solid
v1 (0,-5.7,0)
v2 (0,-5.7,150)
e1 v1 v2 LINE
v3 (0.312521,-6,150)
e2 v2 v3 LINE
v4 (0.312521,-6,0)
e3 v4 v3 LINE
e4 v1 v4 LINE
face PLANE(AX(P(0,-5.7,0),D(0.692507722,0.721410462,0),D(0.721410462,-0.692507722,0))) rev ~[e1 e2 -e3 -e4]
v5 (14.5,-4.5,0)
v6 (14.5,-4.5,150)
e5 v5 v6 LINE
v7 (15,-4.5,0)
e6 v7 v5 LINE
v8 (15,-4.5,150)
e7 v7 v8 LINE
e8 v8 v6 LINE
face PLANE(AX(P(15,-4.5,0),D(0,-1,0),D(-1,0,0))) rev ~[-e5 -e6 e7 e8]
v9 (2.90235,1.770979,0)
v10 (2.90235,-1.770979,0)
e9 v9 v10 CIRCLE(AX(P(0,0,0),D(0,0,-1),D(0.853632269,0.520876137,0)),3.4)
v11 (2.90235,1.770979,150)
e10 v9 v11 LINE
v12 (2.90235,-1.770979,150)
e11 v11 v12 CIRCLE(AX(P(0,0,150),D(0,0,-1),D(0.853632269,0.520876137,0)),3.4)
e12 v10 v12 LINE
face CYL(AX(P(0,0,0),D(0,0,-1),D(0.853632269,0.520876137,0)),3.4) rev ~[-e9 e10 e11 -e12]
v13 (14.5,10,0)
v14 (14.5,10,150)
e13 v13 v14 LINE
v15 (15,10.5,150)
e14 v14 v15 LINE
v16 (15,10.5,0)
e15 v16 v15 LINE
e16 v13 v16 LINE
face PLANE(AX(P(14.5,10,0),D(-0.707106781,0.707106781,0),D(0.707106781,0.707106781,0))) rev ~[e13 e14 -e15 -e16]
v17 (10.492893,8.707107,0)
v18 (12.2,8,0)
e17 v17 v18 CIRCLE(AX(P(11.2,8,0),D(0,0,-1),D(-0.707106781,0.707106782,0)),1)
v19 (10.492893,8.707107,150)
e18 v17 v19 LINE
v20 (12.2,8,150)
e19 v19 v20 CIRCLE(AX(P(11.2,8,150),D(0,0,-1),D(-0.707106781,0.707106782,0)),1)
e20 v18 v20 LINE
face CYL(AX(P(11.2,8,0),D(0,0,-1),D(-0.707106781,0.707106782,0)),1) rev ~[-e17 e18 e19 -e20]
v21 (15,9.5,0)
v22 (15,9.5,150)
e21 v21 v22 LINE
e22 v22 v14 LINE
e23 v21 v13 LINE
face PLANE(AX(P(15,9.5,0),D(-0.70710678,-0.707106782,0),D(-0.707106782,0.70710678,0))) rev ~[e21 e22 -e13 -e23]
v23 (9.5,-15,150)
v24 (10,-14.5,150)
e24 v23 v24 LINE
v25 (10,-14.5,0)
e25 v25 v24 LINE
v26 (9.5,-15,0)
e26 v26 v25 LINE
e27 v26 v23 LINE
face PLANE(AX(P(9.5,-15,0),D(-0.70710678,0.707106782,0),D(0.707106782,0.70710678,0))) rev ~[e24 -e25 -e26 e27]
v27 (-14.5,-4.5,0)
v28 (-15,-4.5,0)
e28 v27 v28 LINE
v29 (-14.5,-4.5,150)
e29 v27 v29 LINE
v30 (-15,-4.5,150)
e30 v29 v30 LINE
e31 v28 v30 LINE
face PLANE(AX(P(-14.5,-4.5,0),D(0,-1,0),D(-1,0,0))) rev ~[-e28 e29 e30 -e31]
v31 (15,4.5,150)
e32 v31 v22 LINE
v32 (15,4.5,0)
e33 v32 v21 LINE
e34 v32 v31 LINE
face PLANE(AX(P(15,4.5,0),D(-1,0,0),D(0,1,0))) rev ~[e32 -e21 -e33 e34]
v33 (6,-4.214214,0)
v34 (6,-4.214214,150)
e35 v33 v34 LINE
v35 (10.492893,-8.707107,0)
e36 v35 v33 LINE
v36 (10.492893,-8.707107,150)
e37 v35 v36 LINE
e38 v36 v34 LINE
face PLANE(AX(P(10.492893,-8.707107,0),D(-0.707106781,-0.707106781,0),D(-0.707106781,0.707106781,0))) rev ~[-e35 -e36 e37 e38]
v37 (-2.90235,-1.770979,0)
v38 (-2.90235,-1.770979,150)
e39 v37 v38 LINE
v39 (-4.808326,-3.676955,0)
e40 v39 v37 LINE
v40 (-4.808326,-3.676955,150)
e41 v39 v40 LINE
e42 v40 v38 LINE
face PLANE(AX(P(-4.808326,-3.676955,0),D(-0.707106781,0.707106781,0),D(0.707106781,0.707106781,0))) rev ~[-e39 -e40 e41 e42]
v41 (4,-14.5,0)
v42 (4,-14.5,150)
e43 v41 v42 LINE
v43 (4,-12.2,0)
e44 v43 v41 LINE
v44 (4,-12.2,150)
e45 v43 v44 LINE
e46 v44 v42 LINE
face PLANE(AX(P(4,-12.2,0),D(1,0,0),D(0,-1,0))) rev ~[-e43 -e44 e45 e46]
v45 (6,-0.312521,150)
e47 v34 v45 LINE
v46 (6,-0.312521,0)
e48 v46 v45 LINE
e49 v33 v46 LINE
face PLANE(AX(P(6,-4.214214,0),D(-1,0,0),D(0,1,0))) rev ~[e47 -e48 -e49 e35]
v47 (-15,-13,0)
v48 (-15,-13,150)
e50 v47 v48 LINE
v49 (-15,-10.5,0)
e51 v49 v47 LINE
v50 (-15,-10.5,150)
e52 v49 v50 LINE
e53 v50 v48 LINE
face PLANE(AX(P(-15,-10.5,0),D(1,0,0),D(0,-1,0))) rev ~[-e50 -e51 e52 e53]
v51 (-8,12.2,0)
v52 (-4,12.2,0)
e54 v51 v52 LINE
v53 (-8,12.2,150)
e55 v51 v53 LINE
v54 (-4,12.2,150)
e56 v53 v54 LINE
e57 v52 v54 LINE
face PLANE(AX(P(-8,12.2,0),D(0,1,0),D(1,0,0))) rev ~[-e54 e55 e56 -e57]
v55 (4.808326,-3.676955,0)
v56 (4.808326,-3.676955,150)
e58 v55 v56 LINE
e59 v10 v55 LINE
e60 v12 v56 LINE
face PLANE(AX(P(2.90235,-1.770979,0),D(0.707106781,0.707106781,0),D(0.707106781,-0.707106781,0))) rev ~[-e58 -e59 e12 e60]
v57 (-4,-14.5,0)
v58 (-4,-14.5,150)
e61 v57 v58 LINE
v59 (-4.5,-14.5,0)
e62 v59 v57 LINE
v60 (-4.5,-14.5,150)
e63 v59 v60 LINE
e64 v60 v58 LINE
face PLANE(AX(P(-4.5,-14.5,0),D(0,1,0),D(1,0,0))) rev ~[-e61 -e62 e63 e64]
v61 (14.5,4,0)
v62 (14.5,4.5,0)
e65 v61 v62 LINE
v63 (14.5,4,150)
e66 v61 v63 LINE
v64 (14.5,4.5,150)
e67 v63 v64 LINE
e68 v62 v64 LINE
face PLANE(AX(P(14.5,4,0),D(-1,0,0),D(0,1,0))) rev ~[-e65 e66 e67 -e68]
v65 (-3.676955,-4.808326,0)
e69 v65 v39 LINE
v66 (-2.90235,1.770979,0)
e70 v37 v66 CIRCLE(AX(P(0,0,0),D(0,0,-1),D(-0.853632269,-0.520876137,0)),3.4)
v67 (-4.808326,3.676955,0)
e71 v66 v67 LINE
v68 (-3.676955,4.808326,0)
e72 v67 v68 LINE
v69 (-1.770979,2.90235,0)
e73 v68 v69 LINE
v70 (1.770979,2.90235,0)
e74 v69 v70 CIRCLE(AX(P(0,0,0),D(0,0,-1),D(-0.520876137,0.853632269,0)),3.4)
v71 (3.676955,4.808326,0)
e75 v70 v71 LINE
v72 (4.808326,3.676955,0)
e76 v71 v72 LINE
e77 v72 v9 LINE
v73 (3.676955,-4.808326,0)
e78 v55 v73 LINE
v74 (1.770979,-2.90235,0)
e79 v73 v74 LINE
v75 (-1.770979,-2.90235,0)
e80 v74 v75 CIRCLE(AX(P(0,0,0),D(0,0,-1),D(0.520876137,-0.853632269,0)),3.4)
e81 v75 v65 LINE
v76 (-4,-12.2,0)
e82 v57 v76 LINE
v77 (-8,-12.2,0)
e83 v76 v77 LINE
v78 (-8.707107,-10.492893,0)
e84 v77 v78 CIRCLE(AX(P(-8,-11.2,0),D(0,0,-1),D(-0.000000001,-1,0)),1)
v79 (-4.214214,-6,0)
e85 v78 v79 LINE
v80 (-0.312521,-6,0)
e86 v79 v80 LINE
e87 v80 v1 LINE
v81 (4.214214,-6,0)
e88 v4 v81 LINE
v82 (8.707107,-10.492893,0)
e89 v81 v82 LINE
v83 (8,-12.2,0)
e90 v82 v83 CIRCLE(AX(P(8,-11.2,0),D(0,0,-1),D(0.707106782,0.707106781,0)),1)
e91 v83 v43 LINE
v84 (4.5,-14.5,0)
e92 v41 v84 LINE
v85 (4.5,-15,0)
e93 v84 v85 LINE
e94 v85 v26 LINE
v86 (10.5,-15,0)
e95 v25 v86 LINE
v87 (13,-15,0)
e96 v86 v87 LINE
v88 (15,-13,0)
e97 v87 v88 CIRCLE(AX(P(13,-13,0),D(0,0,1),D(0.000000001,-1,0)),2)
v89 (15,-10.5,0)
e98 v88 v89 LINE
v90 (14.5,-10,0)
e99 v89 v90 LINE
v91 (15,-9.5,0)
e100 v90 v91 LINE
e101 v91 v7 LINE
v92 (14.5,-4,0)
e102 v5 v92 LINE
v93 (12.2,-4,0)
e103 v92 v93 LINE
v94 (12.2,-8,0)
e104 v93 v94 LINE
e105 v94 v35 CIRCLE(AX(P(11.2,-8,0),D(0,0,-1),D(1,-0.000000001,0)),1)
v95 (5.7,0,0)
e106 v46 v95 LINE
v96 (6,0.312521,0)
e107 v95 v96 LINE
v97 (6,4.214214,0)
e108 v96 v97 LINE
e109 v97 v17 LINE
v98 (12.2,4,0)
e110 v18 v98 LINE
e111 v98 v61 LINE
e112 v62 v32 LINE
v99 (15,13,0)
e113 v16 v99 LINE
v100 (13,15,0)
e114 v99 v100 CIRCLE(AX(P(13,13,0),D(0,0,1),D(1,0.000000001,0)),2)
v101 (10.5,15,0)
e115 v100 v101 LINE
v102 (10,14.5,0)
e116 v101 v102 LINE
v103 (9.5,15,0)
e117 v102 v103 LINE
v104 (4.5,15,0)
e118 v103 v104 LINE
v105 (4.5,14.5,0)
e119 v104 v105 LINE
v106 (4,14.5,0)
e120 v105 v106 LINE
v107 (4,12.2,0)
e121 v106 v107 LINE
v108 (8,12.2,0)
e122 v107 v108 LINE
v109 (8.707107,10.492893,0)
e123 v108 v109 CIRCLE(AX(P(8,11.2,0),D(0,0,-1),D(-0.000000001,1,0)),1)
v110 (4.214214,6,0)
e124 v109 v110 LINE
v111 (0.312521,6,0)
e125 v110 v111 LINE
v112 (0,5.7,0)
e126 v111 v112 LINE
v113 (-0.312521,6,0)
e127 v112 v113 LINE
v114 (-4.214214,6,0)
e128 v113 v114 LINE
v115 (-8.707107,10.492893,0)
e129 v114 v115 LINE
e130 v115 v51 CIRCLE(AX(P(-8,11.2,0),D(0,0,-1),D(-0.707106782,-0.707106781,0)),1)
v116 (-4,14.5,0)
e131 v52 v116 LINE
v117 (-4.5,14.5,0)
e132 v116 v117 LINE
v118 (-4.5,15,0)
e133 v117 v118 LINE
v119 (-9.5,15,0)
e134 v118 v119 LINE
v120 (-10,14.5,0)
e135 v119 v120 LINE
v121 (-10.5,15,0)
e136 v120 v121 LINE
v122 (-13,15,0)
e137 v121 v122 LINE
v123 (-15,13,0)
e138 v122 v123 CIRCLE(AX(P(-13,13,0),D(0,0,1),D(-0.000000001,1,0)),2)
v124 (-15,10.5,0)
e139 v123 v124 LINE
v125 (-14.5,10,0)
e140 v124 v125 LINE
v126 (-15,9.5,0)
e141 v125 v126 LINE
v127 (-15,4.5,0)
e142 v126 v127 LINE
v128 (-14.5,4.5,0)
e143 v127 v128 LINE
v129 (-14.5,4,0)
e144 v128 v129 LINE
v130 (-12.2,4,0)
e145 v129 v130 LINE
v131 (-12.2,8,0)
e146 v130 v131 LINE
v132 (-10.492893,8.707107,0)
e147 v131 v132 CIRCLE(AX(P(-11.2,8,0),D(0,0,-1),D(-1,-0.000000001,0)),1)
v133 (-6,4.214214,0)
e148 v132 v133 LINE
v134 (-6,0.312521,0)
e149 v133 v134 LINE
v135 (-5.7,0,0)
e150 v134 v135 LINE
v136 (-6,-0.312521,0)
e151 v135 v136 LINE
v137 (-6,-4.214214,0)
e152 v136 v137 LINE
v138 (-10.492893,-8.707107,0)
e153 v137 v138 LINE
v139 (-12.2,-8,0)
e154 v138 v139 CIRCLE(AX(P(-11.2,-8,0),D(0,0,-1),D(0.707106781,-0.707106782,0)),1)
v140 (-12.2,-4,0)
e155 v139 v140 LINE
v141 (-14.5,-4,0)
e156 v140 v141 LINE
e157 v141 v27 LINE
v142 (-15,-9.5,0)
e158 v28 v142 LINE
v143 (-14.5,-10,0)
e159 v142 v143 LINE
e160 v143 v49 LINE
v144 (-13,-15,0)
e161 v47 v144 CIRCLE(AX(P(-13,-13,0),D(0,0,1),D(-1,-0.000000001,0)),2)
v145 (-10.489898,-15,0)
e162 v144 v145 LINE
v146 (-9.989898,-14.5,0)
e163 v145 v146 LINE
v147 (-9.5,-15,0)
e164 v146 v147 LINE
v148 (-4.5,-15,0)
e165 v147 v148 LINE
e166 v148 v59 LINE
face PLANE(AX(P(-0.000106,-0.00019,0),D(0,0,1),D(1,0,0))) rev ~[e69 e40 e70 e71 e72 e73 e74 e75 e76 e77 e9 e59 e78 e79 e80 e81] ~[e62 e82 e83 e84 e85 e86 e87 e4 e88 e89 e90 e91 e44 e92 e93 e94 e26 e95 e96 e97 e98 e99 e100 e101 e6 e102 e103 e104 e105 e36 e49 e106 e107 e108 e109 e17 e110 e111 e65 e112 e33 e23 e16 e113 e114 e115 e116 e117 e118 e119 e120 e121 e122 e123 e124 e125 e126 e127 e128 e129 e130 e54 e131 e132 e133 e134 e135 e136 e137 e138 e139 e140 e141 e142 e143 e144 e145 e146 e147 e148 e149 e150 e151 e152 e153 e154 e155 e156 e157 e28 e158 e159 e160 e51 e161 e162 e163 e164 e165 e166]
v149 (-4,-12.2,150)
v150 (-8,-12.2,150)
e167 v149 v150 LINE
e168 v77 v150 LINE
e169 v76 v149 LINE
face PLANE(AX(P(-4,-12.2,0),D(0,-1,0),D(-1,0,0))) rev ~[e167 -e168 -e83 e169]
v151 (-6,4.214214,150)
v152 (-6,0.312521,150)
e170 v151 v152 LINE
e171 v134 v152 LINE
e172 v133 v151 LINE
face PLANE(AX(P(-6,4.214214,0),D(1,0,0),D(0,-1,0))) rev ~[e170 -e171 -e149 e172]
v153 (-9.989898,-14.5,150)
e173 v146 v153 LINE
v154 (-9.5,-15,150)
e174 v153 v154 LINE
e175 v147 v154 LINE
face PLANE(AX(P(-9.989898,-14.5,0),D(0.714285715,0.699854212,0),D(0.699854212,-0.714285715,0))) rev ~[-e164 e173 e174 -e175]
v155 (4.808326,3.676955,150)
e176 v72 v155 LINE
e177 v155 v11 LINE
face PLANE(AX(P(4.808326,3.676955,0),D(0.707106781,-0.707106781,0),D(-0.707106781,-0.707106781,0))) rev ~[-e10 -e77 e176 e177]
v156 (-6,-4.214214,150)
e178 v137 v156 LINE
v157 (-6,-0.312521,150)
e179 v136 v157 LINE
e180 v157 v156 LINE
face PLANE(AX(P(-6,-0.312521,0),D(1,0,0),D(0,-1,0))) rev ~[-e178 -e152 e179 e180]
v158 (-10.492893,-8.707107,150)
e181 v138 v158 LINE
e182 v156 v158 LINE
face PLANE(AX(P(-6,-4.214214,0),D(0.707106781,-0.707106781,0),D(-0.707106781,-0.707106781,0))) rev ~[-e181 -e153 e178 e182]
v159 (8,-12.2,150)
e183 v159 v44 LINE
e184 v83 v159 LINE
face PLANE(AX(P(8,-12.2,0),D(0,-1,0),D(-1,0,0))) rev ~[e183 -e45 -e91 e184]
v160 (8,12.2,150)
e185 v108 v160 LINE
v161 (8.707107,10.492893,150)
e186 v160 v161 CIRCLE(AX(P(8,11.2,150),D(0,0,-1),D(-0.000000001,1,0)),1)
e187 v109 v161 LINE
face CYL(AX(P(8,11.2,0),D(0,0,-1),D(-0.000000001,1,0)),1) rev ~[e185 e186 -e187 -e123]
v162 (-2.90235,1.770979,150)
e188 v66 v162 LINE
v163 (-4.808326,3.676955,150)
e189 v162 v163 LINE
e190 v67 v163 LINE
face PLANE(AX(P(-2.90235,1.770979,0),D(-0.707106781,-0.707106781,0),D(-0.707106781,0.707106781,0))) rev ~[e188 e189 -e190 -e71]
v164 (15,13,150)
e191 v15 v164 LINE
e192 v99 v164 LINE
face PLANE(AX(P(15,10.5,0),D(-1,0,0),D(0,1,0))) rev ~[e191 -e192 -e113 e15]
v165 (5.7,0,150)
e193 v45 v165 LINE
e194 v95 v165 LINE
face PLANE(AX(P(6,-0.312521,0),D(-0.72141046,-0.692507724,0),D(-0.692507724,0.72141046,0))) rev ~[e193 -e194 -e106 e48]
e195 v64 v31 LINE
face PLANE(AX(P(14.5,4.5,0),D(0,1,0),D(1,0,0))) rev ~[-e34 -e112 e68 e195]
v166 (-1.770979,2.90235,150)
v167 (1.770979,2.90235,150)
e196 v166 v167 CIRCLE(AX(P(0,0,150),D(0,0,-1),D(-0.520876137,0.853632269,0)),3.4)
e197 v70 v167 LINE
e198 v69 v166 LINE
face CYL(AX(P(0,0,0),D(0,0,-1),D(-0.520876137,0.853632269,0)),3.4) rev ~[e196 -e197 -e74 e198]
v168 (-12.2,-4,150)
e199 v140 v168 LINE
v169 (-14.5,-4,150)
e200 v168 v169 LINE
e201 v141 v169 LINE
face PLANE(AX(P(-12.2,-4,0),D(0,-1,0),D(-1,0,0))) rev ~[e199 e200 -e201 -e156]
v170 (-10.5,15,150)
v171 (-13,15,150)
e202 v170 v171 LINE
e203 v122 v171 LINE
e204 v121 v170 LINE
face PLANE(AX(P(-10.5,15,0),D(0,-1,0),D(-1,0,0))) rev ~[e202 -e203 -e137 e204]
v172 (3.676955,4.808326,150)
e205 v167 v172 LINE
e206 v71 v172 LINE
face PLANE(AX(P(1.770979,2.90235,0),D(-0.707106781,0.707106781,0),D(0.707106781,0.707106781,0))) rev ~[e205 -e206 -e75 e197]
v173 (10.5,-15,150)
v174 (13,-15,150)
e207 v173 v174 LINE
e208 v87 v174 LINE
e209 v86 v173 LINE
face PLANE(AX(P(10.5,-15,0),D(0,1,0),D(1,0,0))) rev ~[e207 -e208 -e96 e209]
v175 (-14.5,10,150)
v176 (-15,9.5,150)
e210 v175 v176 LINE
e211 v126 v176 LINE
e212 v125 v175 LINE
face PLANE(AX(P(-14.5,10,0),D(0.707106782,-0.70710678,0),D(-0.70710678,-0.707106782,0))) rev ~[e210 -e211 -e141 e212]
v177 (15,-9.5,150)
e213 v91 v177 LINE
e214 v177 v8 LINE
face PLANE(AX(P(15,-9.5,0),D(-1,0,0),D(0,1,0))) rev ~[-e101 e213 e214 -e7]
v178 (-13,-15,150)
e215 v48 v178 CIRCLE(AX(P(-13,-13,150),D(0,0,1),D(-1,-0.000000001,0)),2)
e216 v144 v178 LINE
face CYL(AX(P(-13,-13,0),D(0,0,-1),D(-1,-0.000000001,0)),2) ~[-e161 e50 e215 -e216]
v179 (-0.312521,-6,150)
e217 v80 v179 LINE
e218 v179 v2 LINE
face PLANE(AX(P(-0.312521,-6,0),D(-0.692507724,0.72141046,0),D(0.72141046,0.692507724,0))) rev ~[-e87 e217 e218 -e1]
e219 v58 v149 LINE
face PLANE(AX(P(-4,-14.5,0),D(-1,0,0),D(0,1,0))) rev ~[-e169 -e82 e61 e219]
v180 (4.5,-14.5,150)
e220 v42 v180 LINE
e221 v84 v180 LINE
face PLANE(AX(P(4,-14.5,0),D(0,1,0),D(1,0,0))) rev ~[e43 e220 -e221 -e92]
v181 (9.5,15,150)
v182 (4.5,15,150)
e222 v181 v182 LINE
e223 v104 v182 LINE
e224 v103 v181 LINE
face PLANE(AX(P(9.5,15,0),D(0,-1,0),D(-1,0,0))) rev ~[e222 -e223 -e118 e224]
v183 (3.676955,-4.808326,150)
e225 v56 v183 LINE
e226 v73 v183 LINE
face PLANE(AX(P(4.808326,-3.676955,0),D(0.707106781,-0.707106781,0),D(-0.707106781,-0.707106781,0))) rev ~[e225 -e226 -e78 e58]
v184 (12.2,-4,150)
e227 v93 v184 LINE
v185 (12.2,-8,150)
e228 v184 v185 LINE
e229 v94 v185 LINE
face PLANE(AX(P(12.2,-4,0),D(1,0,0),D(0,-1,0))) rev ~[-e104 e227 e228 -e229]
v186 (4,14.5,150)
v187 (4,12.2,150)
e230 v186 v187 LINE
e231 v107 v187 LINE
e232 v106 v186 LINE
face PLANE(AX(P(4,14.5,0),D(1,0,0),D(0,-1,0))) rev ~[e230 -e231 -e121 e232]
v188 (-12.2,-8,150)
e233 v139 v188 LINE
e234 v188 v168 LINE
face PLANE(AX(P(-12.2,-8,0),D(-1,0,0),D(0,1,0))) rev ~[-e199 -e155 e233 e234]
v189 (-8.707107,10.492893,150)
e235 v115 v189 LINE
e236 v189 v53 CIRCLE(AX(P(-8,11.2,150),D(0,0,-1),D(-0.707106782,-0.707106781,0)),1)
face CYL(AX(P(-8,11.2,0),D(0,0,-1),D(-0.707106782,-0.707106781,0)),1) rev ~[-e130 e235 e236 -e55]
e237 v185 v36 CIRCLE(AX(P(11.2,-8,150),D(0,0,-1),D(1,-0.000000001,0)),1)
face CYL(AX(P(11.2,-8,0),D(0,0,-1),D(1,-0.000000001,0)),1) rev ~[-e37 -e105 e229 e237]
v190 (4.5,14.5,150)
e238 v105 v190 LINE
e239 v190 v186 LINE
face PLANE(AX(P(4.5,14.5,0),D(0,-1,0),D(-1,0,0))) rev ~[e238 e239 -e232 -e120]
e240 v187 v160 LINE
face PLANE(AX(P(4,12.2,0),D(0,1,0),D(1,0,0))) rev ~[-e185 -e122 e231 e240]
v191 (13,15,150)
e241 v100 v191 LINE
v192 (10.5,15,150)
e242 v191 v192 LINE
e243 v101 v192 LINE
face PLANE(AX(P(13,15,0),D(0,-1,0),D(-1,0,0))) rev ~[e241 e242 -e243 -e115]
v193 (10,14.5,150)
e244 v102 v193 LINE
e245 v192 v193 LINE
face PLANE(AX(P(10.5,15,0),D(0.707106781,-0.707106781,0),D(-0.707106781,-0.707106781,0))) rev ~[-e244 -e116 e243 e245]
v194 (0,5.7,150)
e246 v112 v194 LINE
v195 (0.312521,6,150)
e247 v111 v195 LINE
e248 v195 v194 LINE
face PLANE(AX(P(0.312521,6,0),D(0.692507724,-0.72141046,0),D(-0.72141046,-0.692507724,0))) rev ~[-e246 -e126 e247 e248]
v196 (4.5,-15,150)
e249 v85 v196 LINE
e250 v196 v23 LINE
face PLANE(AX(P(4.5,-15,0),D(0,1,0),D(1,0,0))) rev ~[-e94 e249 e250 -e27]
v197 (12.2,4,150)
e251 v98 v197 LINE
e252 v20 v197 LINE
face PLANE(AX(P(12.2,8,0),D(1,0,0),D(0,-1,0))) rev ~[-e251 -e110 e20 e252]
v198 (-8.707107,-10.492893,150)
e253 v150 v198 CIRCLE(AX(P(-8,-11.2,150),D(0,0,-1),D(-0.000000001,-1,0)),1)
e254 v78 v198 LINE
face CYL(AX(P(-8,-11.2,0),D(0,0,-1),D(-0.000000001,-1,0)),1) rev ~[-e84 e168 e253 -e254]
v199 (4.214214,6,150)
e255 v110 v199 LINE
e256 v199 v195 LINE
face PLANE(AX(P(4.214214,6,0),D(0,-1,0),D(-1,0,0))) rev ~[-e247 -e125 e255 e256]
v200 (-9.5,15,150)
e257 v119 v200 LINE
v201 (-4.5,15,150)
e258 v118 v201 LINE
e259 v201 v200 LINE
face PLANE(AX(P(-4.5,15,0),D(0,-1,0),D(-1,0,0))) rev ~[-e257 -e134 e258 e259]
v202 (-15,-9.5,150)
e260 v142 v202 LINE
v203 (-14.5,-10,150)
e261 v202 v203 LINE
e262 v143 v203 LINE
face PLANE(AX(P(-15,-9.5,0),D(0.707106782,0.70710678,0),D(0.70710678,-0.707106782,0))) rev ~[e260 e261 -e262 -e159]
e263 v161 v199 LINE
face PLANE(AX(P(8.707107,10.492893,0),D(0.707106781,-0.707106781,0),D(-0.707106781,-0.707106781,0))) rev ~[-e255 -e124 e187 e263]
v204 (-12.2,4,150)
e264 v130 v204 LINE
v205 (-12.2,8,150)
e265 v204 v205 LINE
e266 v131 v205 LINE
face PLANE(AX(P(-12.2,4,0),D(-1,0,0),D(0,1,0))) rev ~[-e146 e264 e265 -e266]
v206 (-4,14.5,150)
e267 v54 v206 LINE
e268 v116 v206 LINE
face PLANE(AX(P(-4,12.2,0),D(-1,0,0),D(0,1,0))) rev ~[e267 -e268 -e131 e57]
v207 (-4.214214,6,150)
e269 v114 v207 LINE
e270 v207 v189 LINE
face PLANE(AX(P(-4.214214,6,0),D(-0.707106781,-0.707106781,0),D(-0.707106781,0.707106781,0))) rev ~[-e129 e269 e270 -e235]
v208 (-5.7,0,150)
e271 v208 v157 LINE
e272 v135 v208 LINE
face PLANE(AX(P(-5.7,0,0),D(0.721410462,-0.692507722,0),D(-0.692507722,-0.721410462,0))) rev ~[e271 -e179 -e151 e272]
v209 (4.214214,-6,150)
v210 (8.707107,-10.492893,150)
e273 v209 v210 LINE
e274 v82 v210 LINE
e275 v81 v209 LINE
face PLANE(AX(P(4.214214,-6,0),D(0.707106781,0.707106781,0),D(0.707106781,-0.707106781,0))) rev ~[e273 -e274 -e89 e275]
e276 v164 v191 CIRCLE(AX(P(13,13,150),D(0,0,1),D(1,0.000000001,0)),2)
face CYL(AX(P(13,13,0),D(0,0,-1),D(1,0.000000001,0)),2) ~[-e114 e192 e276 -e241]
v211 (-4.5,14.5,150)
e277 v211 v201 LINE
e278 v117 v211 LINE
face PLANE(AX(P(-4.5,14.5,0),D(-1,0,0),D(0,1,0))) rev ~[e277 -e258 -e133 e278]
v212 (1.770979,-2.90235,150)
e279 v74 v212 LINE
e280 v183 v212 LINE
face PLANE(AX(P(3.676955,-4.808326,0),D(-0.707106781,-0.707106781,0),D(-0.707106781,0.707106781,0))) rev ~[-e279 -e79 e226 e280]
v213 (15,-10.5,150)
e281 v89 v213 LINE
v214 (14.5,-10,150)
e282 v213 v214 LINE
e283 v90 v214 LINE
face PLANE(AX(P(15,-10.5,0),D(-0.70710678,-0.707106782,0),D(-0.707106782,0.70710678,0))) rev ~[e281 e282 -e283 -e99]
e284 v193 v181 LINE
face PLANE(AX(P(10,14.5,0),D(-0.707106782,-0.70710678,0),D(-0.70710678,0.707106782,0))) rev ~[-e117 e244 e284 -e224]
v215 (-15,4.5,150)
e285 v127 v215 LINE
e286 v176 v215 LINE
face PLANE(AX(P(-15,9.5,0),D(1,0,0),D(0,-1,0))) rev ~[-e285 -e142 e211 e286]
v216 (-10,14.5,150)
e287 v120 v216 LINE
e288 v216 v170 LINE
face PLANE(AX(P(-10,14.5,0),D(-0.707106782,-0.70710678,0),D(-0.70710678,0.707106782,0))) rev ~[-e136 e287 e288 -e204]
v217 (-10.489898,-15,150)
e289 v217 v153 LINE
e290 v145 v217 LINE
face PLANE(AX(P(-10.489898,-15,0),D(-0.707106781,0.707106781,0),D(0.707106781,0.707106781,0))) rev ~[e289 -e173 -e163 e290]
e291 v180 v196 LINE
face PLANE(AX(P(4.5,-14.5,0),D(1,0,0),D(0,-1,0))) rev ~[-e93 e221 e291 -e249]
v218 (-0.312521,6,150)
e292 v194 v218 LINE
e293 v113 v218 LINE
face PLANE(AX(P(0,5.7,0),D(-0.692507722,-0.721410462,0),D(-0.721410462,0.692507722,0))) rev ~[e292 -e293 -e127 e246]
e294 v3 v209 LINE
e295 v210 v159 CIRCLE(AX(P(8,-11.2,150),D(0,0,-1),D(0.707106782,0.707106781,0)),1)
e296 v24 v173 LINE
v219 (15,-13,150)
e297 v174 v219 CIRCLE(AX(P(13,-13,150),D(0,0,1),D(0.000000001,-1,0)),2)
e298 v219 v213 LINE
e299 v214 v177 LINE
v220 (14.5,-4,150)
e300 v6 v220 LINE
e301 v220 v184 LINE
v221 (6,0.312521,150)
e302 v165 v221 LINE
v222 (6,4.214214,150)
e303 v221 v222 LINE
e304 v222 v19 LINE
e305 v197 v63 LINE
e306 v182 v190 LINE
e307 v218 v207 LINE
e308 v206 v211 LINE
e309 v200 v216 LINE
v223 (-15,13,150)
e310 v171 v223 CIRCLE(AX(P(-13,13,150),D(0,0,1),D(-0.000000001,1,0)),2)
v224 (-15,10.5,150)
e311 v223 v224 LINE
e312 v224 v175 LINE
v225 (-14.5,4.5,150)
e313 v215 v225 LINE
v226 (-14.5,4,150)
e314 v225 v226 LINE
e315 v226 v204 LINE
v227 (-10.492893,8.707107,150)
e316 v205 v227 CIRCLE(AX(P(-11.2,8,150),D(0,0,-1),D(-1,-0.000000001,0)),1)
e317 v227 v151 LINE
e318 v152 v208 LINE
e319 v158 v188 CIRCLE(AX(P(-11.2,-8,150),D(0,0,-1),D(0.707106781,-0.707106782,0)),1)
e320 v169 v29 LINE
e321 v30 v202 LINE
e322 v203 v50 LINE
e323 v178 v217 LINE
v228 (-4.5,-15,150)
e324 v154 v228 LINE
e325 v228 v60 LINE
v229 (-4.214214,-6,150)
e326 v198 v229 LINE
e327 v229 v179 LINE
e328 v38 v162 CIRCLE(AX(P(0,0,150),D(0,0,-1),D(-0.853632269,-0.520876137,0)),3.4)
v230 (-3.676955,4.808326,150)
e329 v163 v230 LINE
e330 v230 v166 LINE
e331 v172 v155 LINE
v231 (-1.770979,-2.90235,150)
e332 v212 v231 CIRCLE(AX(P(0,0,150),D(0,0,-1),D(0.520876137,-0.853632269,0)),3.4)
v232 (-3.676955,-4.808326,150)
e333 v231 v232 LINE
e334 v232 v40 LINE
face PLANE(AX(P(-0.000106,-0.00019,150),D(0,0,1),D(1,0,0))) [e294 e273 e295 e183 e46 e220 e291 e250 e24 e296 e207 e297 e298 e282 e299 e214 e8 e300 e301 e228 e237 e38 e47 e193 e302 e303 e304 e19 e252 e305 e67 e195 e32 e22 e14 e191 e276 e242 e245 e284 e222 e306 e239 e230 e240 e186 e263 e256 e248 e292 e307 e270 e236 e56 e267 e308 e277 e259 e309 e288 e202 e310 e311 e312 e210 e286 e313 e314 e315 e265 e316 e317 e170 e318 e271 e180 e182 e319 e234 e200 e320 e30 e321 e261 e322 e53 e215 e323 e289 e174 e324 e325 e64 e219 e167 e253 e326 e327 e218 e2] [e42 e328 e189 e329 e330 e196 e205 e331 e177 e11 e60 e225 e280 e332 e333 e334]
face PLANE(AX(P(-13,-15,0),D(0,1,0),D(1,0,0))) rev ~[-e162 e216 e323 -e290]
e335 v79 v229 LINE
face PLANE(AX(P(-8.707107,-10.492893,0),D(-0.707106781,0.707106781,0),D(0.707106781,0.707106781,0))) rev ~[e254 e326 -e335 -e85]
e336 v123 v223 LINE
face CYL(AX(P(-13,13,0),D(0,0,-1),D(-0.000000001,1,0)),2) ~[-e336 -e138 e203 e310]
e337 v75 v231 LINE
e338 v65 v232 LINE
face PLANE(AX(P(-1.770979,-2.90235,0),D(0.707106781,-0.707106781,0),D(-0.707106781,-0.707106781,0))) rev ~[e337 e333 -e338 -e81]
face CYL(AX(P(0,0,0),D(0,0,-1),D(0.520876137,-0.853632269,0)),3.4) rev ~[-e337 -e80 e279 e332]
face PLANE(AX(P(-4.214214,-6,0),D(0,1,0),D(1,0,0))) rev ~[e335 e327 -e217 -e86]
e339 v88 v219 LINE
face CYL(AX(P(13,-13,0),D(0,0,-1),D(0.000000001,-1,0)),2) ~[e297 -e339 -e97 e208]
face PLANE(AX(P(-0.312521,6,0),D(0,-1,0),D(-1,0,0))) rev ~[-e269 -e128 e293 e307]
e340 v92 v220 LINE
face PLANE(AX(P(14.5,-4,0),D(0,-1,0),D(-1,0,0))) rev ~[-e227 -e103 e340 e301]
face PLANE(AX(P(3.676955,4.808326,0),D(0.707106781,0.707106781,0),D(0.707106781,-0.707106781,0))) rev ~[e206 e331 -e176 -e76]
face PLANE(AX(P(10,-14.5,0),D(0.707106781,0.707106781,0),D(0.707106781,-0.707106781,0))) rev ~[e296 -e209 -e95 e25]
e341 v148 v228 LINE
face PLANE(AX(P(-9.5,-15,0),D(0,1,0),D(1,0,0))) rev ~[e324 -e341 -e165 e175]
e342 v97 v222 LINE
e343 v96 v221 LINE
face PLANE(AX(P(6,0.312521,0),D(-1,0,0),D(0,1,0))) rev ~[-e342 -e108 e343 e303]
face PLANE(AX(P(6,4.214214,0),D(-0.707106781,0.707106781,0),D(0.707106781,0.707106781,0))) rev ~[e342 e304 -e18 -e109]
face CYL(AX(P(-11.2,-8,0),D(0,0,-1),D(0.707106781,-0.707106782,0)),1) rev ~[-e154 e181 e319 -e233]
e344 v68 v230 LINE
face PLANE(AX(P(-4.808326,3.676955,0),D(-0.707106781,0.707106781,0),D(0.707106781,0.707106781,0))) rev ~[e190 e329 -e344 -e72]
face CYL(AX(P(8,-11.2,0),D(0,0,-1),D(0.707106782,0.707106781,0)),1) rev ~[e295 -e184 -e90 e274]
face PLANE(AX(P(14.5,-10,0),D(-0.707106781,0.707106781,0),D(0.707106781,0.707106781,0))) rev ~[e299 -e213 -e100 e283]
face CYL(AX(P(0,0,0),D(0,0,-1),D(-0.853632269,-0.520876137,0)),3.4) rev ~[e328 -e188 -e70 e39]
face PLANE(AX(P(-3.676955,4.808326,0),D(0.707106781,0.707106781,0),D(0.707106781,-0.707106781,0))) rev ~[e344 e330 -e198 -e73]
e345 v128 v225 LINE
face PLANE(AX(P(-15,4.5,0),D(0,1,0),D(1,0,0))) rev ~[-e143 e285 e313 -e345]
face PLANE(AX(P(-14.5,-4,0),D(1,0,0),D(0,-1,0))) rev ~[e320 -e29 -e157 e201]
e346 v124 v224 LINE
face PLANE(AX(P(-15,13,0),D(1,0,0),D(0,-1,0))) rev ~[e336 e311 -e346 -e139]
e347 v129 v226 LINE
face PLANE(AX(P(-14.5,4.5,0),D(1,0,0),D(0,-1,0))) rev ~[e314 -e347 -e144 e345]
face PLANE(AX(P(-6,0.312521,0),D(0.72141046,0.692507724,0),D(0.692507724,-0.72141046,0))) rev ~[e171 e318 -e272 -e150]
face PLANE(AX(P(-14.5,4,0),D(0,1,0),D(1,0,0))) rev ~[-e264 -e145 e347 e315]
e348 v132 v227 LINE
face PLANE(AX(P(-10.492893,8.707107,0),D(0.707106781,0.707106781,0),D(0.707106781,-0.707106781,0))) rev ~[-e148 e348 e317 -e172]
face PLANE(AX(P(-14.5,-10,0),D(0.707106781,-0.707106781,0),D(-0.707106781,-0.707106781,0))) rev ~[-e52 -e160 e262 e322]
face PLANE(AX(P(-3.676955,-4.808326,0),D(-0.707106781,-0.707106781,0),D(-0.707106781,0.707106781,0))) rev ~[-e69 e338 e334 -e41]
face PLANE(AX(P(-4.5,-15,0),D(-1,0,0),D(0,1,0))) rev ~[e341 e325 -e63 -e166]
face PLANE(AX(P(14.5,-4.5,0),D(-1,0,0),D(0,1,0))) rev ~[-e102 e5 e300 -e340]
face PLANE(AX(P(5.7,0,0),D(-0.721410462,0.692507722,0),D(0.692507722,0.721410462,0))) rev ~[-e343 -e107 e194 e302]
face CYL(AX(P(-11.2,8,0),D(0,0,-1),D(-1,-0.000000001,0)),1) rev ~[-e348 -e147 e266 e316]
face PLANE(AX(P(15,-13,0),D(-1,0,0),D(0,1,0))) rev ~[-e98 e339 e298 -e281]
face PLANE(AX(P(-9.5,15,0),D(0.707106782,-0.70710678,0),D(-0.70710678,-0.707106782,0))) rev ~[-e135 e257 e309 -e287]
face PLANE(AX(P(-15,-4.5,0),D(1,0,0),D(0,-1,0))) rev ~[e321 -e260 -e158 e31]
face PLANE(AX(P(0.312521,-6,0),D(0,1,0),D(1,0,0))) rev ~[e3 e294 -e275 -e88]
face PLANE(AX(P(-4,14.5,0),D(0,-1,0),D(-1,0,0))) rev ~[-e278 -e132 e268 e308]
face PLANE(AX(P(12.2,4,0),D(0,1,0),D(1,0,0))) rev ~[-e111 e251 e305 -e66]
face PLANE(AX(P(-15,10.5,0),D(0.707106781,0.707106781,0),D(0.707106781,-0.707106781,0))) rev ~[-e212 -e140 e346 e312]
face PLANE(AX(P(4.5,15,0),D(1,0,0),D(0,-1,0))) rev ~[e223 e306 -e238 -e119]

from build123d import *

# Parameters (mm, degrees)
BOSS_EXTRUDE1_DEPTH = 150


with BuildPart() as part:
    # Sketch1 → Boss-Extrude1 (new body)
    with BuildSketch(Plane.XY):
        with BuildLine():
            Line((12.999999999, 14.999999999), (10.499999999, 14.999999999))
            Line((10.499999999, 14.999999999), (9.999999999, 14.499999999))
            Line((9.999999999, 14.499999999), (9.5, 14.999999999))
            Line((9.5, 14.999999999), (4.5, 14.999999999))
            Line((4.5, 14.999999999), (4.5, 14.5))
            Line((4.5, 14.5), (4, 14.5))
            Line((4, 14.5), (4, 12.200000005))
            Line((4, 12.200000005), (7.999999994, 12.200000005))
            ThreePointArc((7.999999994, 12.200000005), (8.923879532, 11.582683434), (8.707106779, 10.492893215))
            Line((8.707106779, 10.492893215), (4.214213564, 6))
            Line((4.214213564, 6), (0.312520901, 6))
            Line((0.312520901, 6), (0, 5.7))
            Line((0, 5.7), (-0.312520903, 6))
            Line((-0.312520903, 6), (-4.214213564, 6))
            Line((-4.214213564, 6), (-8.70710678, 10.492893215))
            ThreePointArc((-8.70710678, 10.492893215), (-8.923879532, 11.582683434), (-7.999999995, 12.200000005))
            Line((-7.999999995, 12.200000005), (-4, 12.200000005))
            Line((-4, 12.200000005), (-4, 14.5))
            Line((-4, 14.5), (-4.5, 14.5))
            Line((-4.5, 14.5), (-4.5, 14.999999999))
            Line((-4.5, 14.999999999), (-9.500000003, 14.999999999))
            Line((-9.500000003, 14.999999999), (-10.000000002, 14.499999999))
            Line((-10.000000002, 14.499999999), (-10.500000001, 14.999999999))
            Line((-10.500000001, 14.999999999), (-13, 14.999999999))
            ThreePointArc((-13, 14.999999999), (-14.414213562, 14.414213561), (-15, 12.999999999))
            Line((-15, 12.999999999), (-15, 10.5))
            Line((-15, 10.5), (-14.500000001, 10.000000001))
            Line((-14.500000001, 10.000000001), (-15, 9.500000001))
            Line((-15, 9.500000001), (-15, 4.5))
            Line((-15, 4.5), (-14.5, 4.5))
            Line((-14.5, 4.5), (-14.5, 4))
            Line((-14.5, 4), (-12.200000005, 4))
            Line((-12.200000005, 4), (-12.200000005, 7.999999994))
            ThreePointArc((-12.200000005, 7.999999994), (-11.582683434, 8.923879532), (-10.492893215, 8.707106779))
            Line((-10.492893215, 8.707106779), (-6, 4.214213564))
            Line((-6, 4.214213564), (-6, 0.312520901))
            Line((-6, 0.312520901), (-5.7, 0))
            Line((-5.7, 0), (-6, -0.312520903))
            Line((-6, -0.312520903), (-6, -4.214213564))
            Line((-6, -4.214213564), (-10.492893215, -8.70710678))
            ThreePointArc((-10.492893215, -8.70710678), (-11.582683434, -8.923879532), (-12.200000005, -7.999999995))
            Line((-12.200000005, -7.999999995), (-12.200000005, -4))
            Line((-12.200000005, -4), (-14.5, -4))
            Line((-14.5, -4), (-14.5, -4.5))
            Line((-14.5, -4.5), (-15, -4.5))
            Line((-15, -4.5), (-15, -9.500000001))
            Line((-15, -9.500000001), (-14.500000001, -10.000000001))
            Line((-14.500000001, -10.000000001), (-15, -10.5))
            Line((-15, -10.5), (-15, -13))
            ThreePointArc((-15, -13), (-14.414213562, -14.414213562), (-13, -15))
            Line((-13, -15), (-10.489897949, -15))
            Line((-10.489897949, -15), (-9.989897949, -14.5))
            Line((-9.989897949, -14.5), (-9.500000001, -15))
            Line((-9.500000001, -15), (-4.5, -15))
            Line((-4.5, -15), (-4.5, -14.5))
            Line((-4.5, -14.5), (-4, -14.5))
            Line((-4, -14.5), (-4, -12.200000005))
            Line((-4, -12.200000005), (-7.999999995, -12.200000005))
            ThreePointArc((-7.999999995, -12.200000005), (-8.923879532, -11.582683434), (-8.70710678, -10.492893215))
            Line((-8.70710678, -10.492893215), (-4.214213564, -6))
            Line((-4.214213564, -6), (-0.312520901, -6))
            Line((-0.312520901, -6), (0, -5.7))
            Line((0, -5.7), (0.312520903, -6))
            Line((0.312520903, -6), (4.214213564, -6))
            Line((4.214213564, -6), (8.70710678, -10.492893215))
            ThreePointArc((8.70710678, -10.492893215), (8.923879532, -11.582683434), (7.999999995, -12.200000005))
            Line((7.999999995, -12.200000005), (4, -12.200000005))
            Line((4, -12.200000005), (4, -14.5))
            Line((4, -14.5), (4.5, -14.5))
            Line((4.5, -14.5), (4.5, -15))
            Line((4.5, -15), (9.500000001, -15))
            Line((9.500000001, -15), (10.000000001, -14.500000001))
            Line((10.000000001, -14.500000001), (10.5, -15))
            Line((10.5, -15), (12.999999999, -15))
            ThreePointArc((12.999999999, -15), (14.414213561, -14.414213562), (14.999999999, -13))
            Line((14.999999999, -13), (14.999999999, -10.500000001))
            Line((14.999999999, -10.500000001), (14.499999999, -10.000000002))
            Line((14.499999999, -10.000000002), (14.999999999, -9.500000002))
            Line((14.999999999, -9.500000002), (14.999999999, -4.5))
            Line((14.999999999, -4.5), (14.5, -4.5))
            Line((14.5, -4.5), (14.5, -4))
            Line((14.5, -4), (12.200000005, -4))
            Line((12.200000005, -4), (12.200000005, -7.999999995))
            ThreePointArc((12.200000005, -7.999999995), (11.582683434, -8.923879532), (10.492893215, -8.70710678))
            Line((10.492893215, -8.70710678), (6, -4.214213564))
            Line((6, -4.214213564), (6, -0.312520901))
            Line((6, -0.312520901), (5.7, 0))
            Line((5.7, 0), (6, 0.312520903))
            Line((6, 0.312520903), (6, 4.214213564))
            Line((6, 4.214213564), (10.492893215, 8.70710678))
            ThreePointArc((10.492893215, 8.70710678), (11.582683434, 8.923879532), (12.200000005, 7.999999995))
            Line((12.200000005, 7.999999995), (12.200000005, 4))
            Line((12.200000005, 4), (14.5, 4))
            Line((14.5, 4), (14.5, 4.5))
            Line((14.5, 4.5), (14.999999999, 4.5))
            Line((14.999999999, 4.5), (14.999999999, 9.5))
            Line((14.999999999, 9.5), (14.499999999, 9.999999999))
            Line((14.499999999, 9.999999999), (14.999999999, 10.499999999))
            Line((14.999999999, 10.499999999), (14.999999999, 12.999999999))
            ThreePointArc((14.999999999, 12.999999999), (14.414213561, 14.414213561), (12.999999999, 14.999999999))
        make_face()
        with BuildLine():
            Line((-2.902349714, 1.770978864), (-4.808326112, 3.676955262))
            Line((-4.808326112, 3.676955262), (-3.676955262, 4.808326112))
            Line((-3.676955262, 4.808326112), (-1.770978864, 2.902349714))
            ThreePointArc((-1.770978864, 2.902349714), (0, 3.4), (1.770978864, 2.902349714))
            Line((1.770978864, 2.902349714), (3.676955262, 4.808326112))
            Line((3.676955262, 4.808326112), (4.808326112, 3.676955262))
            Line((4.808326112, 3.676955262), (2.902349714, 1.770978864))
            ThreePointArc((2.902349714, 1.770978864), (3.4, 0), (2.902349714, -1.770978864))
            Line((2.902349714, -1.770978864), (4.808326112, -3.676955262))
            Line((4.808326112, -3.676955262), (3.676955262, -4.808326112))
            Line((3.676955262, -4.808326112), (1.770978864, -2.902349714))
            ThreePointArc((1.770978864, -2.902349714), (0, -3.4), (-1.770978864, -2.902349714))
            Line((-1.770978864, -2.902349714), (-3.676955262, -4.808326112))
            Line((-3.676955262, -4.808326112), (-4.808326112, -3.676955262))
            Line((-4.808326112, -3.676955262), (-2.902349714, -1.770978864))
            ThreePointArc((-2.902349714, -1.770978864), (-3.4, 0), (-2.902349714, 1.770978864))
        make_face(mode=Mode.SUBTRACT)
    extrude(amount=BOSS_EXTRUDE1_DEPTH)


solid = part.part
